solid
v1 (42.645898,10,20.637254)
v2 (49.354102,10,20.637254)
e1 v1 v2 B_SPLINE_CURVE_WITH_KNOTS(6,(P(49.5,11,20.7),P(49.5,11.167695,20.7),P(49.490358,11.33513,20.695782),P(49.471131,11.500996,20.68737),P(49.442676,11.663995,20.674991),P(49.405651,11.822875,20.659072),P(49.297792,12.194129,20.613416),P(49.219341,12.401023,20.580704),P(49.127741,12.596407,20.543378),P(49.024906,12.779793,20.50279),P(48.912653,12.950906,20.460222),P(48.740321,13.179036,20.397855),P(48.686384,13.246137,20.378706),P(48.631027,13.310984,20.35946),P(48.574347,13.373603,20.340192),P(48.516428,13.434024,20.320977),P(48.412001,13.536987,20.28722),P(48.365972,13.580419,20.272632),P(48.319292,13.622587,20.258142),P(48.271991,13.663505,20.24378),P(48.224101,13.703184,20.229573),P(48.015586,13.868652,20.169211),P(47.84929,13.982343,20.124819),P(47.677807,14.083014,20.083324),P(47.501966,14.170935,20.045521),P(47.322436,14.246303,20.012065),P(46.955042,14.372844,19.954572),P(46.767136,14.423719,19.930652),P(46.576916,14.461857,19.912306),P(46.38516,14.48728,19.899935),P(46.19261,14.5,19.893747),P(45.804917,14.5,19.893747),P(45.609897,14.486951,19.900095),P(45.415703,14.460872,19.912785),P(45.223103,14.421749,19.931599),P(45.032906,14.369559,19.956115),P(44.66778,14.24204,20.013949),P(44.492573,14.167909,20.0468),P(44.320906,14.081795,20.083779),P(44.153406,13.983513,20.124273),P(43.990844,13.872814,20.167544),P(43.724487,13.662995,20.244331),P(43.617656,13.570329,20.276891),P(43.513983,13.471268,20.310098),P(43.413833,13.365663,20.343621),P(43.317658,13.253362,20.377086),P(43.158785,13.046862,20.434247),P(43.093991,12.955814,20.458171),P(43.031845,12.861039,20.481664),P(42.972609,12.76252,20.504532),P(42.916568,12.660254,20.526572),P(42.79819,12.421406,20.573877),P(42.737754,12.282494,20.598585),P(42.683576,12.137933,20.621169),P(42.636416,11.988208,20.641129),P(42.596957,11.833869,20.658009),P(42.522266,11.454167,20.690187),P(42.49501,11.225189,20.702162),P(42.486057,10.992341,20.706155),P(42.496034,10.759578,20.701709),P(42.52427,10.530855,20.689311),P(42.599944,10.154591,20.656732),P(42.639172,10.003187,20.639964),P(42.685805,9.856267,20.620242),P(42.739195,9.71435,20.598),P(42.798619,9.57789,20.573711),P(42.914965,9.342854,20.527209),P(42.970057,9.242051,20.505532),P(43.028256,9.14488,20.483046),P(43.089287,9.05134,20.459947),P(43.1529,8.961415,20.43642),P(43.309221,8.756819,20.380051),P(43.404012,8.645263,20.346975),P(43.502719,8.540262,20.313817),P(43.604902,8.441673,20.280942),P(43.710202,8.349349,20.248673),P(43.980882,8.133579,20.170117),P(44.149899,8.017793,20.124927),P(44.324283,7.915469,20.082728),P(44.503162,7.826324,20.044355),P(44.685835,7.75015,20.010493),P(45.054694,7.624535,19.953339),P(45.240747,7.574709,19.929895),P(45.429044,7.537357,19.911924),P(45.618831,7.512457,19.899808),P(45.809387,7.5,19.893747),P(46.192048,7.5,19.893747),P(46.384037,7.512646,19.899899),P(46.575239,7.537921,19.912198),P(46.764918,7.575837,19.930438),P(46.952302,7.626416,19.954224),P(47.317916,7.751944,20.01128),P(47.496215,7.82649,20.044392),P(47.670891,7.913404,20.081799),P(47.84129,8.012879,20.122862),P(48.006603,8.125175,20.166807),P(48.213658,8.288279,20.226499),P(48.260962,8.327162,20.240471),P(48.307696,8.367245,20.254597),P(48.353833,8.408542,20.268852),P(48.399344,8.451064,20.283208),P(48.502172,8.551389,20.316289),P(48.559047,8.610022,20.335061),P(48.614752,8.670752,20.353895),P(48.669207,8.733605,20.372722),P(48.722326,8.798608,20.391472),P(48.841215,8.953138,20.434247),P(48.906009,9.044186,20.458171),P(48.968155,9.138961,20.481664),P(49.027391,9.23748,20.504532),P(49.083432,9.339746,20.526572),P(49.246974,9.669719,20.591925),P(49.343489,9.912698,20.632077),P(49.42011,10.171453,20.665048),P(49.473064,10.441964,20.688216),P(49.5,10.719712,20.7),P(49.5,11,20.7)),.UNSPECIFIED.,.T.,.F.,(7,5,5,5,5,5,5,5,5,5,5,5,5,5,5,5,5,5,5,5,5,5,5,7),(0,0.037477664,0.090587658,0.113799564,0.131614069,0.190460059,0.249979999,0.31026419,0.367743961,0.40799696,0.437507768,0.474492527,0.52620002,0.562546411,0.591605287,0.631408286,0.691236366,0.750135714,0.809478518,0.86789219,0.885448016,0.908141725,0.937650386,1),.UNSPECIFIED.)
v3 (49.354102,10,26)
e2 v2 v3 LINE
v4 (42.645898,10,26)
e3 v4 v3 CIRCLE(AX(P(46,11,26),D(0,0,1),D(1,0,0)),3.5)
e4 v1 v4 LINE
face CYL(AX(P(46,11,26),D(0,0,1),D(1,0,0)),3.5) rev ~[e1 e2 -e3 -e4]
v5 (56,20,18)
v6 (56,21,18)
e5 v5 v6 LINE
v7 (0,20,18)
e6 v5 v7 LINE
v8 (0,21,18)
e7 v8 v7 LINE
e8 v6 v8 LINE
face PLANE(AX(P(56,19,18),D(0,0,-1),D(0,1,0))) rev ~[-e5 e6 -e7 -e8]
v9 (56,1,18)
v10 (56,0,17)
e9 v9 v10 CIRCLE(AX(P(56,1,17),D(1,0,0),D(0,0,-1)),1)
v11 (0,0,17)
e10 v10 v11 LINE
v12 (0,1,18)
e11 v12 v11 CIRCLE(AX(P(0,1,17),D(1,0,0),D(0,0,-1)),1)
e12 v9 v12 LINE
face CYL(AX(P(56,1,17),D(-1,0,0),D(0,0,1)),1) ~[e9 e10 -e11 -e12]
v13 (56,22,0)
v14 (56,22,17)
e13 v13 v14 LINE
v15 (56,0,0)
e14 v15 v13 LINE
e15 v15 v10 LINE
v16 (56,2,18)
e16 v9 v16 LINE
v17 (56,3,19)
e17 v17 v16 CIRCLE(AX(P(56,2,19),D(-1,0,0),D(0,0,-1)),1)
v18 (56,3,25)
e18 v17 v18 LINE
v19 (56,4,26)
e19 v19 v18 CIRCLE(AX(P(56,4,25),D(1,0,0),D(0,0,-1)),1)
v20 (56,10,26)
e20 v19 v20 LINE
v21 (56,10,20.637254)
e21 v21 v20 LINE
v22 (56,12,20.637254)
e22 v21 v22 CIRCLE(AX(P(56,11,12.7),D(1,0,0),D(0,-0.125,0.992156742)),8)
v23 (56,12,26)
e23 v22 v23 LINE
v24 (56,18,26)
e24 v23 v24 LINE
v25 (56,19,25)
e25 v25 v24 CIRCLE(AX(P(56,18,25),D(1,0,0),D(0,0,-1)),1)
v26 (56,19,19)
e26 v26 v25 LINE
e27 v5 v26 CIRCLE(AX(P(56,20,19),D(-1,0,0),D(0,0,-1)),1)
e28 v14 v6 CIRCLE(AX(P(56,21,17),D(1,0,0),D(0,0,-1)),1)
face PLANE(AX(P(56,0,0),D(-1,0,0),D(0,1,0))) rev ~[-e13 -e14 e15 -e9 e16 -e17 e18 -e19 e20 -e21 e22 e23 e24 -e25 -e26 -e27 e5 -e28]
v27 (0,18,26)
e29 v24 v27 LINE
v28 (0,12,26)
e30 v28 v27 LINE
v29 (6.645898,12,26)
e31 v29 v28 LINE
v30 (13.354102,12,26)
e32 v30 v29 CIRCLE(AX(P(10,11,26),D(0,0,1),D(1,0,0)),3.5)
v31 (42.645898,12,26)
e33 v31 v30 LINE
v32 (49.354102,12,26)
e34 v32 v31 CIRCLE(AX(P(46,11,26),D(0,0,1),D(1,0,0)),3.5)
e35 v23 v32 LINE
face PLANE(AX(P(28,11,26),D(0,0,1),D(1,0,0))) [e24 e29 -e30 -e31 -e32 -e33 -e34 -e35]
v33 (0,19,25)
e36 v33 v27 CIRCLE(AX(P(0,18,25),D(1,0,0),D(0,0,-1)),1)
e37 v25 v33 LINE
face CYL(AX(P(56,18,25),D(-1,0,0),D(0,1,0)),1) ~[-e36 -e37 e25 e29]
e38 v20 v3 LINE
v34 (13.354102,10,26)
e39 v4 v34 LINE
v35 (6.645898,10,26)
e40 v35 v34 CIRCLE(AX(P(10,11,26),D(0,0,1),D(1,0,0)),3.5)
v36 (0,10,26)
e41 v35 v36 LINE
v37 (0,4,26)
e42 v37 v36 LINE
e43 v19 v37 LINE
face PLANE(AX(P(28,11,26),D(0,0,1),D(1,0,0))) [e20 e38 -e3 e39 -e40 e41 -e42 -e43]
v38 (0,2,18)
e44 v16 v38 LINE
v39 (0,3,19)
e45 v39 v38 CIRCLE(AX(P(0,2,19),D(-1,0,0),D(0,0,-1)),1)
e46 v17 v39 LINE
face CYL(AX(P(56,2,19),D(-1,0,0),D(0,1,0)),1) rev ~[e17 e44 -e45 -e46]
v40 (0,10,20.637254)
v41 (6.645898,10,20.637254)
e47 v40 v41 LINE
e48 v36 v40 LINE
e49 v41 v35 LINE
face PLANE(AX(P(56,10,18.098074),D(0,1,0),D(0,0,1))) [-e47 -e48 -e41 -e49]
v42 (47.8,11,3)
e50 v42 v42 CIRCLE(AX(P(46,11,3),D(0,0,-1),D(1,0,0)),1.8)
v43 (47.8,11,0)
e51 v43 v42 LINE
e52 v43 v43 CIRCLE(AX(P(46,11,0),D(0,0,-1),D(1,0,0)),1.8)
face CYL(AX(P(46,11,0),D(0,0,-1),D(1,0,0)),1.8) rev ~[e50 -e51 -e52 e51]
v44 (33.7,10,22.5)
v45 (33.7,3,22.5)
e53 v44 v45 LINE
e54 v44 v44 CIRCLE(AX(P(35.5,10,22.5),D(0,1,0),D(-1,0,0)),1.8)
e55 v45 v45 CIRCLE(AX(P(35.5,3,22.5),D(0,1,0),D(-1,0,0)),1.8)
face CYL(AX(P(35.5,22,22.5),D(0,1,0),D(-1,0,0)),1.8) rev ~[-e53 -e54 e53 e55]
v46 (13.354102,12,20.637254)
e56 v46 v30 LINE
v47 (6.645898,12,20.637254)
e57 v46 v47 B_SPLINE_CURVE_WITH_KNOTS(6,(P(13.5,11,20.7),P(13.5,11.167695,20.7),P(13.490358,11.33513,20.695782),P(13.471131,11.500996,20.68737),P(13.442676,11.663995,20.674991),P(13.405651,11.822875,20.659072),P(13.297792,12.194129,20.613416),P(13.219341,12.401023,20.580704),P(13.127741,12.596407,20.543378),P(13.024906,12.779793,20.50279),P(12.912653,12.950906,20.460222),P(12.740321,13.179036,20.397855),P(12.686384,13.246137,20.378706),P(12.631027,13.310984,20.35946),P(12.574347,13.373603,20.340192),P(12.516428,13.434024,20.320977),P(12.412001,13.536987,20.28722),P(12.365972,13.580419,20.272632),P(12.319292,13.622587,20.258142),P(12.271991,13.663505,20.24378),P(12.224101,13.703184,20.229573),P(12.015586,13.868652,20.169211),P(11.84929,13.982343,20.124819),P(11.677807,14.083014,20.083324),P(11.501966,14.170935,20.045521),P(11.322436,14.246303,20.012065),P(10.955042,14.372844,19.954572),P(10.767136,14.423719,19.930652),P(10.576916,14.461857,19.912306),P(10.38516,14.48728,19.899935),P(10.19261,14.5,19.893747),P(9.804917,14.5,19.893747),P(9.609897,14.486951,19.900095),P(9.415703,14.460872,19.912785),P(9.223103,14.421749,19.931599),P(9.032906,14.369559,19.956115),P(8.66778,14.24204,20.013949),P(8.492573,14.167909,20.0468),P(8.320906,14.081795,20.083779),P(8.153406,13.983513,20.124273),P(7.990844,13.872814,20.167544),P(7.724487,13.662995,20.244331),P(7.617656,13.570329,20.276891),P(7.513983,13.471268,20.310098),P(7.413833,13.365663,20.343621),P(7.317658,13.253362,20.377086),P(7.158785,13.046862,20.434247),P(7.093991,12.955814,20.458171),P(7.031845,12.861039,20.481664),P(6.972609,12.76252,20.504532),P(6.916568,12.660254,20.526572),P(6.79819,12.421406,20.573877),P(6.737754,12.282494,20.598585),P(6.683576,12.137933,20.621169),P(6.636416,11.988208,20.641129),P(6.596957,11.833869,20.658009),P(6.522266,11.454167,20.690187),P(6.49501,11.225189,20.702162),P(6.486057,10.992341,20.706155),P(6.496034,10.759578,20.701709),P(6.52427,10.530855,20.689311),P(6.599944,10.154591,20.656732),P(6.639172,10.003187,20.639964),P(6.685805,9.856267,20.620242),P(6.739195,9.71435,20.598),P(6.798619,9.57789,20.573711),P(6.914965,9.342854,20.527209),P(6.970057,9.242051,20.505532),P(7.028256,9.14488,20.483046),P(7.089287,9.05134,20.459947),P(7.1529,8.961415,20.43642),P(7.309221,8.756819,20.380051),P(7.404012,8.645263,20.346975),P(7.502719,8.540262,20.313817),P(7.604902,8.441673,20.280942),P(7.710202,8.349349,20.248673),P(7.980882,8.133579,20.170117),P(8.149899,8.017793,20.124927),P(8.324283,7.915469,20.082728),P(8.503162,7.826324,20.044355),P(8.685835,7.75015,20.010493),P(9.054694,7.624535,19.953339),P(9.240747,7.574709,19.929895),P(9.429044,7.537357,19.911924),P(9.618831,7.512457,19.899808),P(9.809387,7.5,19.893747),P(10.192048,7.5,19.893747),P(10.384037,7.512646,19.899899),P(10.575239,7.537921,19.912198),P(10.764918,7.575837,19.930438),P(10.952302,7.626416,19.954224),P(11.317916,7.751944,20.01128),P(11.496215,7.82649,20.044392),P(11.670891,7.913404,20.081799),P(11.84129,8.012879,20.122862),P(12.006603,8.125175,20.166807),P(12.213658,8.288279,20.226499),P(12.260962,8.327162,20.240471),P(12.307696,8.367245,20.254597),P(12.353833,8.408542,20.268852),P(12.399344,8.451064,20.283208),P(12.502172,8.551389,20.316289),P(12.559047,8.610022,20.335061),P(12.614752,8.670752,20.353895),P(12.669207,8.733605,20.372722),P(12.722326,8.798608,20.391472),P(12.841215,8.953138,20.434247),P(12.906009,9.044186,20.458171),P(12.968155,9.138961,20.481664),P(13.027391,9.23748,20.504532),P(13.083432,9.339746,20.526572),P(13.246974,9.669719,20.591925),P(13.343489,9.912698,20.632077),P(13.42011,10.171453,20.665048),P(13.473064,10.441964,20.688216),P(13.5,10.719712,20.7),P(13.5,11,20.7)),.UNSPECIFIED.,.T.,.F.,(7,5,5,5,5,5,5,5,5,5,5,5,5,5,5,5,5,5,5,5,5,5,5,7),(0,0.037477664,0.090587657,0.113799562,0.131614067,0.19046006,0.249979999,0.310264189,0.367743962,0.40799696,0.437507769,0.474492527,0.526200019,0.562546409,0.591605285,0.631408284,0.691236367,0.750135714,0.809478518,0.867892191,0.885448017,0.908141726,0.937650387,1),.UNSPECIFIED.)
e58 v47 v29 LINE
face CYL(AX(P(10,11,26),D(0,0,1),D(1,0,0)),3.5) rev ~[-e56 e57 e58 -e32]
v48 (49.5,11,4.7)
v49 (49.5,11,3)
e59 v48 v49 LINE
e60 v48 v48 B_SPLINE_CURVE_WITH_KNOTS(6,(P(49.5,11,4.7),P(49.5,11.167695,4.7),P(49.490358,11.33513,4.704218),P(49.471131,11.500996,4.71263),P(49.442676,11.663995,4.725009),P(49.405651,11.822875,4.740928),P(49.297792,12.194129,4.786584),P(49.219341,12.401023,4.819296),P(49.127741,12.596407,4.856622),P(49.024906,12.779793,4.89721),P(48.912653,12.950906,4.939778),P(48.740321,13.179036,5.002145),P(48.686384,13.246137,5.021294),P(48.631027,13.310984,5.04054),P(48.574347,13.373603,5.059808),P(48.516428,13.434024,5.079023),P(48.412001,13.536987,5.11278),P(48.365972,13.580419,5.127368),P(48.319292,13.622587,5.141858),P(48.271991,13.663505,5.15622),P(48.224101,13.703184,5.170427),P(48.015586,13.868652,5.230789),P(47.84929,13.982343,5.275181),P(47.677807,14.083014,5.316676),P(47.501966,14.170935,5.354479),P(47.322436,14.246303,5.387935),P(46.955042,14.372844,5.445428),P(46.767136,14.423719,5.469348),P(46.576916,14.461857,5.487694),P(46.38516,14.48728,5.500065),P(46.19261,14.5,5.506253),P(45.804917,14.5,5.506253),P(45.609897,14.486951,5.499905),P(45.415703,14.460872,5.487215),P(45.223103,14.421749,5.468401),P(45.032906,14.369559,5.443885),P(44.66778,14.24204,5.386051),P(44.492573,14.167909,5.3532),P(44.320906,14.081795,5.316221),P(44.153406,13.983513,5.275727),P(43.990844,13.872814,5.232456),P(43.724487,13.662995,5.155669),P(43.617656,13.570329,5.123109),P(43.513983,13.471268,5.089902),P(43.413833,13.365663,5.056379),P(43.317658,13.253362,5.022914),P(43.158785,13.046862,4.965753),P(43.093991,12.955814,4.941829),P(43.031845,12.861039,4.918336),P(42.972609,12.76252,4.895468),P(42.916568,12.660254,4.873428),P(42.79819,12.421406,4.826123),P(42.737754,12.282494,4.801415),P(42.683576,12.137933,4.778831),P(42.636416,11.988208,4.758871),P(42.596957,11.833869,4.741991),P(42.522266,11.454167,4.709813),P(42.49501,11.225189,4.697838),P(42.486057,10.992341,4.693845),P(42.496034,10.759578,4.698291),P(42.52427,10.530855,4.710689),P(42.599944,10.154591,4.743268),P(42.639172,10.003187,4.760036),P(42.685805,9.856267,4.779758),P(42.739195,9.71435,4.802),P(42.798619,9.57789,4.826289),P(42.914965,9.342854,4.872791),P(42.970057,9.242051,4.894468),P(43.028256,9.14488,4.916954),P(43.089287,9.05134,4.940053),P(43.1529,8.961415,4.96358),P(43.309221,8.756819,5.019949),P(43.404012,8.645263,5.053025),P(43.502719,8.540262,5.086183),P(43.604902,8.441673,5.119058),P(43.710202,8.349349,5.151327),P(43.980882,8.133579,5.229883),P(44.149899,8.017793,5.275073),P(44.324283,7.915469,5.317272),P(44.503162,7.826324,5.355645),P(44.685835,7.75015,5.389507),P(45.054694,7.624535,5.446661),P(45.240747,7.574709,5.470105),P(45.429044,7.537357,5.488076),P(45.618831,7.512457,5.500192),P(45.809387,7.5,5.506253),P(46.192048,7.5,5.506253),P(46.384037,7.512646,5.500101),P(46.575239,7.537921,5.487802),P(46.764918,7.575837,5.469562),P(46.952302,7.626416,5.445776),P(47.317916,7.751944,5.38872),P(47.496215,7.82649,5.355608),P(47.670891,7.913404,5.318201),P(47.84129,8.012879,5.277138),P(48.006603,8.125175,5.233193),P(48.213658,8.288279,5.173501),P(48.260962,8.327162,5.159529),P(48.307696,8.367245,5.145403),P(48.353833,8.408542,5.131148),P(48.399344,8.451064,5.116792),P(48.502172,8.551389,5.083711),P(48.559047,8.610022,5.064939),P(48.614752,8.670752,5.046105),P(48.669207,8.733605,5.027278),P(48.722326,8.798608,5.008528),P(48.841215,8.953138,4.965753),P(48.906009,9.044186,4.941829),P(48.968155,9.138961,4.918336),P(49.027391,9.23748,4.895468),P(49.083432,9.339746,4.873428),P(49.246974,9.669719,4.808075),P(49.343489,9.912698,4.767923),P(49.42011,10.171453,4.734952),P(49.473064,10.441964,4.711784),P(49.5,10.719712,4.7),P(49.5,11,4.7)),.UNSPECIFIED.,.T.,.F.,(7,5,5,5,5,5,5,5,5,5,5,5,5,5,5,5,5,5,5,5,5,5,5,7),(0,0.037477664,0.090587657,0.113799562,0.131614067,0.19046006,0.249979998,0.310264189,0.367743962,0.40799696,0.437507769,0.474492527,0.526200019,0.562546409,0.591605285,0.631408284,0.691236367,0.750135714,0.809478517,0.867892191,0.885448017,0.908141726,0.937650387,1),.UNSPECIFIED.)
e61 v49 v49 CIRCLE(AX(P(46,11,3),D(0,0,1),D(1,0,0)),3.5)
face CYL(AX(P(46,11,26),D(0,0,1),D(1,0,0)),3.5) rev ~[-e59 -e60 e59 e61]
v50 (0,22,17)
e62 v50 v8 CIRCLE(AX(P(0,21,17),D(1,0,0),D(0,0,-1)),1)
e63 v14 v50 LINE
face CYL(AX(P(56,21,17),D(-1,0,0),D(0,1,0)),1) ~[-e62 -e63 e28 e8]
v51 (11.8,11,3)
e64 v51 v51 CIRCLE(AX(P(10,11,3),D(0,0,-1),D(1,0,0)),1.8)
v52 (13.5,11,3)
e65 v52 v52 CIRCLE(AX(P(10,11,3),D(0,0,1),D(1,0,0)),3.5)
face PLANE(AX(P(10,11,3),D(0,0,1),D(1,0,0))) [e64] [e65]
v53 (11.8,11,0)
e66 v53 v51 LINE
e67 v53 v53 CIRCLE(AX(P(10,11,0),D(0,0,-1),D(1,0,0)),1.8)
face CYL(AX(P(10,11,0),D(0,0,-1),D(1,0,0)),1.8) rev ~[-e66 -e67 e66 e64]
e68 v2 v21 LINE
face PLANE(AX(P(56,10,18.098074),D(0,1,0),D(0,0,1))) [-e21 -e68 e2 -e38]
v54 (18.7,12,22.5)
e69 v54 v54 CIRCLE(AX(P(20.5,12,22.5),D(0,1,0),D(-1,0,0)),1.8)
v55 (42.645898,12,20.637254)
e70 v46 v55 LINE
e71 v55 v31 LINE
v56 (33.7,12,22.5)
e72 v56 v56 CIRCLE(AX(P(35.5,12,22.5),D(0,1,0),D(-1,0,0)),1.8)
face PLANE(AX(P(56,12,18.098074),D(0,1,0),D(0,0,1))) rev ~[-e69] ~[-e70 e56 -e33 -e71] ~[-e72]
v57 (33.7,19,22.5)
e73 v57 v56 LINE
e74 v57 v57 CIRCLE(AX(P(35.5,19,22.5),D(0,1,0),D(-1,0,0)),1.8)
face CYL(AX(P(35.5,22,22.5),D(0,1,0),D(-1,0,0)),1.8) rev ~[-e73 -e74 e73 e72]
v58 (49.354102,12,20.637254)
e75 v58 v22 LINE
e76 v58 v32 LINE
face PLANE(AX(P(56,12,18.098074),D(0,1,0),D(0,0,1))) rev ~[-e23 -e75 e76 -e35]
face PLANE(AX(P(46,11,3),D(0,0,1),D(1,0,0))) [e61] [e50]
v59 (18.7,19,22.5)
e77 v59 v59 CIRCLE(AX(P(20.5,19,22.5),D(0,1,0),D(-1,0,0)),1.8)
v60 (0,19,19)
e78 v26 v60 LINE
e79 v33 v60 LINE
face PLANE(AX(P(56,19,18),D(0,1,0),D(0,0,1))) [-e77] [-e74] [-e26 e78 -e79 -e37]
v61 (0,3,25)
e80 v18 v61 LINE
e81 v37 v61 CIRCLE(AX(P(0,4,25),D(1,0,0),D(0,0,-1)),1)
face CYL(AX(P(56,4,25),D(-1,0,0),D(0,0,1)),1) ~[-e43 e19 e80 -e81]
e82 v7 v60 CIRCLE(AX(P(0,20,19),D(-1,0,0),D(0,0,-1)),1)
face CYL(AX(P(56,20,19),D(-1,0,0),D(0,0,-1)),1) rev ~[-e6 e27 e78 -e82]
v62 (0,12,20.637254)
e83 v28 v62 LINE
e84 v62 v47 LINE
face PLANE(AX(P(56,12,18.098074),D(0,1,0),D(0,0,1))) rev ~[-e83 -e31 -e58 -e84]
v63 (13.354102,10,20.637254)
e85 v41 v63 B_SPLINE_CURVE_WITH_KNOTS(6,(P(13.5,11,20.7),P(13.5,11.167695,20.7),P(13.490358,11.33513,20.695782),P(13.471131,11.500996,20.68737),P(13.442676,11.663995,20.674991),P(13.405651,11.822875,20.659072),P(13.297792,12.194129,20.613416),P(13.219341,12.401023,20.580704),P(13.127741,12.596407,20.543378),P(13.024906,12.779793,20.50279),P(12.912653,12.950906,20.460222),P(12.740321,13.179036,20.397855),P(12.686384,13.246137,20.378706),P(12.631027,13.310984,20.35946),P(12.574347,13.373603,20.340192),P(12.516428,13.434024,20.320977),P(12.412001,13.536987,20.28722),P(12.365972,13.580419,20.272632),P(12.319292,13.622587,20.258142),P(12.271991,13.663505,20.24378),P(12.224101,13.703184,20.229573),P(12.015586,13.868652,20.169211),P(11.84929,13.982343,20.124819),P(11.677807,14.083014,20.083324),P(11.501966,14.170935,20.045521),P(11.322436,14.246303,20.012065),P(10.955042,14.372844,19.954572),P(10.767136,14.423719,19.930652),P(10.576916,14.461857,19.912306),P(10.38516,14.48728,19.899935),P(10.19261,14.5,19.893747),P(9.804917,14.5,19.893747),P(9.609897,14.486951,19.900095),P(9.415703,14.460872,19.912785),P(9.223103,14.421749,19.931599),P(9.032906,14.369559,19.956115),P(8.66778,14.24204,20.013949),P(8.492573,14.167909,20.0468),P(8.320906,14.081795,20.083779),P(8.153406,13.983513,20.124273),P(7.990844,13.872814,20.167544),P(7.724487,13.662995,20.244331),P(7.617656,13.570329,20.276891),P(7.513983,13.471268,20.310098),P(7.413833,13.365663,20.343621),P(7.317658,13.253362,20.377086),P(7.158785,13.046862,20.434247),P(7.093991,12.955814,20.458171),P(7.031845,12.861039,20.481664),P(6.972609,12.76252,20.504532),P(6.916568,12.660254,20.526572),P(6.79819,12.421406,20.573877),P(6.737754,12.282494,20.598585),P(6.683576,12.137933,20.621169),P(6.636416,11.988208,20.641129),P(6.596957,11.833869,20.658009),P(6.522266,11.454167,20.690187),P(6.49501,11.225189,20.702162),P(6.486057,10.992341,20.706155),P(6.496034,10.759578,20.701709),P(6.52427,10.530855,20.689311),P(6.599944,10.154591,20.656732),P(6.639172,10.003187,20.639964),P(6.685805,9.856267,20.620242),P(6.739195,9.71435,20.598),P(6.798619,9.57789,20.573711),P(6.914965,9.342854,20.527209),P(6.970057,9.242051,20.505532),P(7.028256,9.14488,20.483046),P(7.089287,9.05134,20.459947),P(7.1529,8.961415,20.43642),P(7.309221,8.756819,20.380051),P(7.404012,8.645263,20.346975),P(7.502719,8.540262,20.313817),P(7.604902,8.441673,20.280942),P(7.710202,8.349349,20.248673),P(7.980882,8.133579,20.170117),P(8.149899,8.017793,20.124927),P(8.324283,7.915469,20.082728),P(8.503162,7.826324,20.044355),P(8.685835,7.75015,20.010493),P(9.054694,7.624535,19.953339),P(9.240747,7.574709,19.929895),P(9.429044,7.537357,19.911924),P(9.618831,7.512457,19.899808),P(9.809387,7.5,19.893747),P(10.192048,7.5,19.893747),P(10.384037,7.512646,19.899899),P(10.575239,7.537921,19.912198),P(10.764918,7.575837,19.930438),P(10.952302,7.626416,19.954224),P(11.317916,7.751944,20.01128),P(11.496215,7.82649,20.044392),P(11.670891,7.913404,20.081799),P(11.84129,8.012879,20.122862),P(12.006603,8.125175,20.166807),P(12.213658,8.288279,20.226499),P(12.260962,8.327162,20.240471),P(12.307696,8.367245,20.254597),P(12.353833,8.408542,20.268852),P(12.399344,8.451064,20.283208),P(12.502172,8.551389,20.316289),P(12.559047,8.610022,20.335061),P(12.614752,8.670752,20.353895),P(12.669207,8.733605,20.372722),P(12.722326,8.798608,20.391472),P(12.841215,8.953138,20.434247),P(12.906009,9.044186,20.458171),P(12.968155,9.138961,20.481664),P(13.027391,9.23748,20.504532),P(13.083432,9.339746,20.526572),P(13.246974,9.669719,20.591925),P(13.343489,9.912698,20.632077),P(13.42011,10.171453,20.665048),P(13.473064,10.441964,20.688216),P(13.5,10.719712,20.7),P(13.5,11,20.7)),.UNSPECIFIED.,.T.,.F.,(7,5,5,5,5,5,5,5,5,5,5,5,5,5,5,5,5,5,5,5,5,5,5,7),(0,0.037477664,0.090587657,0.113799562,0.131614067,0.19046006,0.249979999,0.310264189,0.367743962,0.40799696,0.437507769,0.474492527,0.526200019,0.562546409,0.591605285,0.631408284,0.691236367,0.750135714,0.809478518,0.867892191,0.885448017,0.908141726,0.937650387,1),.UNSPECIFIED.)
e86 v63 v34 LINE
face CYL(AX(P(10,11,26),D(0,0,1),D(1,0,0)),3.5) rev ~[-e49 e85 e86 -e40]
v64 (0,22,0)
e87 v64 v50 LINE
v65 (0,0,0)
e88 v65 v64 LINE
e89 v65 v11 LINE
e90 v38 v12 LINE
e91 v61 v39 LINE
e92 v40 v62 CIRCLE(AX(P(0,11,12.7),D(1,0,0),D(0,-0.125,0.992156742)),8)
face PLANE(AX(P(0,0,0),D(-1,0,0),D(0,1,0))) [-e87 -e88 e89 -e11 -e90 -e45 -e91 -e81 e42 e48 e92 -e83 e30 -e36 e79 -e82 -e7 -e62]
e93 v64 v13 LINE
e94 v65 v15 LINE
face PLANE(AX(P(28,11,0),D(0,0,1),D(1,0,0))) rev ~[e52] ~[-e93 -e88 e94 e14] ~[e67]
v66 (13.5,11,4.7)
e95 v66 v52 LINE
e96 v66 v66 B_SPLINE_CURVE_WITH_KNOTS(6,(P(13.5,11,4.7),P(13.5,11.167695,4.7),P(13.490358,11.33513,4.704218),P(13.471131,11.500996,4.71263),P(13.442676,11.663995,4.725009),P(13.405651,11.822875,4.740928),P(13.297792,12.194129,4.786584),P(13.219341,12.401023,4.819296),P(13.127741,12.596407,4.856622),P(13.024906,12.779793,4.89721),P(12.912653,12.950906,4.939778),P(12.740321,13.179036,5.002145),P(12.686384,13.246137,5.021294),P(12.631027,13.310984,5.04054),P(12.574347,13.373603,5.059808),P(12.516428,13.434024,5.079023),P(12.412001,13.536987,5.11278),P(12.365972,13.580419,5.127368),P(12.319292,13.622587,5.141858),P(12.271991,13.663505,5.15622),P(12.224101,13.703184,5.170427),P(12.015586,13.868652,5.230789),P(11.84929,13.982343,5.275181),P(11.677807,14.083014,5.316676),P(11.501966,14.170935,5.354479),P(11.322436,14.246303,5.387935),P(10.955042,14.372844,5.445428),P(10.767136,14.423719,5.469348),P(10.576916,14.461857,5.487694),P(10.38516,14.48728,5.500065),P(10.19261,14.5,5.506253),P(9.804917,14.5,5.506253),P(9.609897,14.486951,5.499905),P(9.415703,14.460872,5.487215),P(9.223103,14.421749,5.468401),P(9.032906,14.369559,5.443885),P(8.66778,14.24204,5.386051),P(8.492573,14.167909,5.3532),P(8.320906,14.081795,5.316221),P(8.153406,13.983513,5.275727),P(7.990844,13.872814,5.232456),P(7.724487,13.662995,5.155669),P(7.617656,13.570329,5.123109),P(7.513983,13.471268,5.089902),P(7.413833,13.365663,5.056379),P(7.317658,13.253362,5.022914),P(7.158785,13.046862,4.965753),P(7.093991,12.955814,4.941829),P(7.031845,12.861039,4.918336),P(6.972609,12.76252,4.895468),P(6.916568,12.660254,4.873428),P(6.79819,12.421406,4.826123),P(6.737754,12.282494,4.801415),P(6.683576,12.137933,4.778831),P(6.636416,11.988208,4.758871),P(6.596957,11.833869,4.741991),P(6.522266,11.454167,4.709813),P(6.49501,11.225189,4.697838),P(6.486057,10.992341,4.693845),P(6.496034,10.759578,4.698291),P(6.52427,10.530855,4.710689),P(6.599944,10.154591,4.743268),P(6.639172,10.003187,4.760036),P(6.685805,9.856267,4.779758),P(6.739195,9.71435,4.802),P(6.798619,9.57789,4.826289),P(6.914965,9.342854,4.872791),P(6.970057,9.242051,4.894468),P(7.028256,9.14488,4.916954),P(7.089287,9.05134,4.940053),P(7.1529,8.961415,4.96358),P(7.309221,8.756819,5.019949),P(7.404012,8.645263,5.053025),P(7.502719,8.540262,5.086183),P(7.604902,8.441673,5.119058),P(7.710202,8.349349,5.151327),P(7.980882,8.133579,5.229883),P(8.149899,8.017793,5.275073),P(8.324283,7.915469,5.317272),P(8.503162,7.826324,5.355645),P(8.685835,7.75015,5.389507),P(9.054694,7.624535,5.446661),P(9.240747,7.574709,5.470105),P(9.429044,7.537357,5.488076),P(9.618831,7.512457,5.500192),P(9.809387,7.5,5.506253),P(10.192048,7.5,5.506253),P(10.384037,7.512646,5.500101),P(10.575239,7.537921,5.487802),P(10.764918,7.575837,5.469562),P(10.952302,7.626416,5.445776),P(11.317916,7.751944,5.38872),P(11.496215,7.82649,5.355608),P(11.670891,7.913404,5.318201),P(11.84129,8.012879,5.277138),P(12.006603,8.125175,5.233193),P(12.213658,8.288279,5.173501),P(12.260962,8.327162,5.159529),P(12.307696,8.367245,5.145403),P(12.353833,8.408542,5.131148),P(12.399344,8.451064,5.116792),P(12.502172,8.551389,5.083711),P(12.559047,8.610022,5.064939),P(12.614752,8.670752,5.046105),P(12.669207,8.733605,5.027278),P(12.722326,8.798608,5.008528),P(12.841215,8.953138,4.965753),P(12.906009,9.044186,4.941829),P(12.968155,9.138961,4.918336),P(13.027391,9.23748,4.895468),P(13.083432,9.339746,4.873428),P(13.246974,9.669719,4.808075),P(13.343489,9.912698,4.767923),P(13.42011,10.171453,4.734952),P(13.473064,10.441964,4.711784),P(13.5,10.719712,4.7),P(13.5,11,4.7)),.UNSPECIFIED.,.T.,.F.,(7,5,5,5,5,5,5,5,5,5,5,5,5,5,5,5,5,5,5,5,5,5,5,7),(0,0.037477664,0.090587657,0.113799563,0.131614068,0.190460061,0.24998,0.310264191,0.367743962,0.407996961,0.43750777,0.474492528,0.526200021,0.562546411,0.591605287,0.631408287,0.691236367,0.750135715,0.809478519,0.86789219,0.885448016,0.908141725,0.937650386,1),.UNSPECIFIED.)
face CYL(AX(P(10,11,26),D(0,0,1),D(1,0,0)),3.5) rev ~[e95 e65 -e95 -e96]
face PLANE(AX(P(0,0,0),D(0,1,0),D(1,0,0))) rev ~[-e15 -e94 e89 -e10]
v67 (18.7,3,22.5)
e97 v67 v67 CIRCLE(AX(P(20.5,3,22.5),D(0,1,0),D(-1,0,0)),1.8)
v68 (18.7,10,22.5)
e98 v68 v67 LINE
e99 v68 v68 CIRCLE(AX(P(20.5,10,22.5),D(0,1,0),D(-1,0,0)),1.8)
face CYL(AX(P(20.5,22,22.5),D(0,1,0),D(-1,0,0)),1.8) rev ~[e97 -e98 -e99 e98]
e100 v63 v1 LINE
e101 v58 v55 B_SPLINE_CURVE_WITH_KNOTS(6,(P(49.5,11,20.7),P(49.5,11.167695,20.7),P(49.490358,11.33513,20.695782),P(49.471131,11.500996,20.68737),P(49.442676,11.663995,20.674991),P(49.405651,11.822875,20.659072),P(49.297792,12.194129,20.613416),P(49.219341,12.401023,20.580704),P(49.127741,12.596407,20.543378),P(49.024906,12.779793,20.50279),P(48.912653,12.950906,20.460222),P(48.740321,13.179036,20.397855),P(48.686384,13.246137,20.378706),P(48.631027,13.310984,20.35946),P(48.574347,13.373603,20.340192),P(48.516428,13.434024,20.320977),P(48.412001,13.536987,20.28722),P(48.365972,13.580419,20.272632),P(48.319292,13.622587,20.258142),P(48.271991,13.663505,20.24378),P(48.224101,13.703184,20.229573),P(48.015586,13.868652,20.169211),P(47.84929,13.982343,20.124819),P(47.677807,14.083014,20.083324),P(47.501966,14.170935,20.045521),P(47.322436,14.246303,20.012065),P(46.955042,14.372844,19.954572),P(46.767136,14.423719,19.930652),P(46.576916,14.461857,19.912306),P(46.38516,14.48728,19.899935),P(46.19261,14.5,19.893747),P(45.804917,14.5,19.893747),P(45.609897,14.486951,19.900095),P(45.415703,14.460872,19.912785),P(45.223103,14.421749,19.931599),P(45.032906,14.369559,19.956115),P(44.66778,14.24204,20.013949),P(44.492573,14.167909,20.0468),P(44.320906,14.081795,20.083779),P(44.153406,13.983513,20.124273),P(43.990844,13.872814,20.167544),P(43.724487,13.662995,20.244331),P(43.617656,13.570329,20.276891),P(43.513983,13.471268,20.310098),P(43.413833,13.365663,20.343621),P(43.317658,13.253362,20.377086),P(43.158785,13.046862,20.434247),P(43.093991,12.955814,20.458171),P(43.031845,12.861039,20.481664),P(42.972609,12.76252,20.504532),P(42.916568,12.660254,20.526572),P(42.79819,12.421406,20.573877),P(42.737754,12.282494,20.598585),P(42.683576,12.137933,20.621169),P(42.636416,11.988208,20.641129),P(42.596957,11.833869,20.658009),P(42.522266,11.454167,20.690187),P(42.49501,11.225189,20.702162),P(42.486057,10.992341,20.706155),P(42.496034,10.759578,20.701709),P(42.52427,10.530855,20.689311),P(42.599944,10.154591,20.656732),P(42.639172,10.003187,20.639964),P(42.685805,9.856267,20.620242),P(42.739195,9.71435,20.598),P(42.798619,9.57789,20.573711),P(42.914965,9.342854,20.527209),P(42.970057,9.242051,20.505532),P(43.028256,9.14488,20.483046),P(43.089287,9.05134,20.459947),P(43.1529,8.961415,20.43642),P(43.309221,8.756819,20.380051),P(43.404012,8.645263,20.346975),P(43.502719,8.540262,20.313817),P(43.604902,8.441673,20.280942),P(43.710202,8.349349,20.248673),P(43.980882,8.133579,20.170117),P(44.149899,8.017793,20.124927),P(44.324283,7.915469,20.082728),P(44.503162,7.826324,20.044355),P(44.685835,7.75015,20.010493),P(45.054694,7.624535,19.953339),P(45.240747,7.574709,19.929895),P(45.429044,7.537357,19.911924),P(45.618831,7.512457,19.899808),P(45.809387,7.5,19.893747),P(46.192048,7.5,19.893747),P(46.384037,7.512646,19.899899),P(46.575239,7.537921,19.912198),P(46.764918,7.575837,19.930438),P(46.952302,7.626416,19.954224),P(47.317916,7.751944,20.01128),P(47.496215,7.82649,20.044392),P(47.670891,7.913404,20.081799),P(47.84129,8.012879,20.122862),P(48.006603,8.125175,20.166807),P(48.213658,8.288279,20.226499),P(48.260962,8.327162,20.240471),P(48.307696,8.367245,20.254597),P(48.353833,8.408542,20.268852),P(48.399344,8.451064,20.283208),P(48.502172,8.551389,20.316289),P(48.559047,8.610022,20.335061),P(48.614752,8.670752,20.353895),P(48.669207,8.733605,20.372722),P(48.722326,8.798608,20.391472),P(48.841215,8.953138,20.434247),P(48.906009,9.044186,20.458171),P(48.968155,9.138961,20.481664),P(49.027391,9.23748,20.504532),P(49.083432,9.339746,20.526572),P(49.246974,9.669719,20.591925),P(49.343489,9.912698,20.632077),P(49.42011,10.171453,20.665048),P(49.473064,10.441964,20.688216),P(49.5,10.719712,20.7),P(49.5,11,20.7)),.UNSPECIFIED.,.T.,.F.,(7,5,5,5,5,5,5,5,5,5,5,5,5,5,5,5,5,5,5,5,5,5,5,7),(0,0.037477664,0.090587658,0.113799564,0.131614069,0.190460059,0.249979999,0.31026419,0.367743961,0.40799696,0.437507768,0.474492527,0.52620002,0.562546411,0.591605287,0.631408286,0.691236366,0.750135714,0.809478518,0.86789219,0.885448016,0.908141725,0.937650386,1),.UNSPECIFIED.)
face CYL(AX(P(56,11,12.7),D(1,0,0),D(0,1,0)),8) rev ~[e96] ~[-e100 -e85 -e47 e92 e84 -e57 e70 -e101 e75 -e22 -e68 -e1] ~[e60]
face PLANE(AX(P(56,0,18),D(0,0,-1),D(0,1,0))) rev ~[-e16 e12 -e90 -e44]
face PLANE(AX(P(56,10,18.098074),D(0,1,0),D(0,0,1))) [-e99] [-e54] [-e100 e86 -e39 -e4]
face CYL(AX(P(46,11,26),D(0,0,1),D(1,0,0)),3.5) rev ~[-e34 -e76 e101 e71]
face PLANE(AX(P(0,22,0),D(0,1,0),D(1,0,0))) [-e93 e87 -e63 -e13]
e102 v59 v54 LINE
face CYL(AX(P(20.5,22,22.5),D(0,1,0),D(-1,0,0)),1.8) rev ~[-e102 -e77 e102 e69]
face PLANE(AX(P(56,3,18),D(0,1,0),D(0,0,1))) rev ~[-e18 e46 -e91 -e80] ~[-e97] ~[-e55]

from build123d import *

# Parameters (mm, degrees)
BOX_W           = 56
BOX_H           = 22
BOX_DEPTH       = 26
SKETCH_R        = 8
POCKET_DEPTH    = 56.001
SKETCH001_R     = 3.5
POCKET001_DEPTH = 23
SKETCH002_R     = 1.8
POCKET002_DEPTH = 5
SKETCH003_R     = 1.8
POCKET003_DEPTH = 22.001
SKETCH004_W     = 2
SKETCH004_H     = 11.298807
SKETCH004_W_2   = 3
SKETCH004_H_2   = 8
POCKET004_DEPTH = 56.001
FILLET_R        = 1


with BuildPart() as part:
    # Box → Box (new body)
    with BuildSketch(Plane.XY):
        with Locations((28, 11)):
            Rectangle(BOX_W, BOX_H)
    extrude(amount=BOX_DEPTH)

    # Sketch → Pocket (cut, through all)
    with BuildSketch(Plane.YZ.offset(56)):
        with Locations((11, 12.7)):
            Circle(SKETCH_R)
    extrude(amount=-POCKET_DEPTH, mode=Mode.SUBTRACT)

    # Sketch001 → Pocket001 (cut)
    with BuildSketch(Plane.XY.offset(26)):
        with Locations((10, 11)):
            Circle(SKETCH001_R)
        with Locations((46, 11)):
            Circle(SKETCH001_R)
    extrude(amount=-POCKET001_DEPTH, mode=Mode.SUBTRACT)

    # Sketch002 → Pocket002 (cut)
    with BuildSketch(Plane(origin=(0, 0, 0), x_dir=(1, 0, 0), z_dir=(0, 0, -1))):
        with Locations((10, -11)):
            Circle(SKETCH002_R)
        with Locations((46, -11)):
            Circle(SKETCH002_R)
    extrude(amount=-POCKET002_DEPTH, mode=Mode.SUBTRACT)

    # Sketch003 → Pocket003 (cut, through all)
    with BuildSketch(Plane(origin=(0, 22, 0), x_dir=(-1, 0, 0), z_dir=(0, 1, 0))):
        with Locations((-35.5, 22.5)):
            Circle(SKETCH003_R)
        with Locations((-20.5, 22.5)):
            Circle(SKETCH003_R)
    extrude(amount=-POCKET003_DEPTH, mode=Mode.SUBTRACT)

    # Sketch004 → Pocket004 (cut, through all)
    with BuildSketch(Plane.YZ.offset(56)):
        with Locations((11, 23.747477)):
            Rectangle(SKETCH004_W, SKETCH004_H)
        with Locations((1.5, 22)):
            Rectangle(SKETCH004_W_2, SKETCH004_H_2)
        with Locations((20.5, 22)):
            Rectangle(SKETCH004_W_2, SKETCH004_H_2)
    extrude(amount=-POCKET004_DEPTH, mode=Mode.SUBTRACT)

    # Fillet
    fillet_edges = [part.edges().sort_by_distance(p)[0] for p in [
        (28, 0, 18),
        (28, 3, 18),
        (28, 3, 26),
        (28, 19, 26),
        (28, 19, 18),
        (28, 22, 18),
    ]]
    fillet(fillet_edges, radius=FILLET_R)


solid = part.part
